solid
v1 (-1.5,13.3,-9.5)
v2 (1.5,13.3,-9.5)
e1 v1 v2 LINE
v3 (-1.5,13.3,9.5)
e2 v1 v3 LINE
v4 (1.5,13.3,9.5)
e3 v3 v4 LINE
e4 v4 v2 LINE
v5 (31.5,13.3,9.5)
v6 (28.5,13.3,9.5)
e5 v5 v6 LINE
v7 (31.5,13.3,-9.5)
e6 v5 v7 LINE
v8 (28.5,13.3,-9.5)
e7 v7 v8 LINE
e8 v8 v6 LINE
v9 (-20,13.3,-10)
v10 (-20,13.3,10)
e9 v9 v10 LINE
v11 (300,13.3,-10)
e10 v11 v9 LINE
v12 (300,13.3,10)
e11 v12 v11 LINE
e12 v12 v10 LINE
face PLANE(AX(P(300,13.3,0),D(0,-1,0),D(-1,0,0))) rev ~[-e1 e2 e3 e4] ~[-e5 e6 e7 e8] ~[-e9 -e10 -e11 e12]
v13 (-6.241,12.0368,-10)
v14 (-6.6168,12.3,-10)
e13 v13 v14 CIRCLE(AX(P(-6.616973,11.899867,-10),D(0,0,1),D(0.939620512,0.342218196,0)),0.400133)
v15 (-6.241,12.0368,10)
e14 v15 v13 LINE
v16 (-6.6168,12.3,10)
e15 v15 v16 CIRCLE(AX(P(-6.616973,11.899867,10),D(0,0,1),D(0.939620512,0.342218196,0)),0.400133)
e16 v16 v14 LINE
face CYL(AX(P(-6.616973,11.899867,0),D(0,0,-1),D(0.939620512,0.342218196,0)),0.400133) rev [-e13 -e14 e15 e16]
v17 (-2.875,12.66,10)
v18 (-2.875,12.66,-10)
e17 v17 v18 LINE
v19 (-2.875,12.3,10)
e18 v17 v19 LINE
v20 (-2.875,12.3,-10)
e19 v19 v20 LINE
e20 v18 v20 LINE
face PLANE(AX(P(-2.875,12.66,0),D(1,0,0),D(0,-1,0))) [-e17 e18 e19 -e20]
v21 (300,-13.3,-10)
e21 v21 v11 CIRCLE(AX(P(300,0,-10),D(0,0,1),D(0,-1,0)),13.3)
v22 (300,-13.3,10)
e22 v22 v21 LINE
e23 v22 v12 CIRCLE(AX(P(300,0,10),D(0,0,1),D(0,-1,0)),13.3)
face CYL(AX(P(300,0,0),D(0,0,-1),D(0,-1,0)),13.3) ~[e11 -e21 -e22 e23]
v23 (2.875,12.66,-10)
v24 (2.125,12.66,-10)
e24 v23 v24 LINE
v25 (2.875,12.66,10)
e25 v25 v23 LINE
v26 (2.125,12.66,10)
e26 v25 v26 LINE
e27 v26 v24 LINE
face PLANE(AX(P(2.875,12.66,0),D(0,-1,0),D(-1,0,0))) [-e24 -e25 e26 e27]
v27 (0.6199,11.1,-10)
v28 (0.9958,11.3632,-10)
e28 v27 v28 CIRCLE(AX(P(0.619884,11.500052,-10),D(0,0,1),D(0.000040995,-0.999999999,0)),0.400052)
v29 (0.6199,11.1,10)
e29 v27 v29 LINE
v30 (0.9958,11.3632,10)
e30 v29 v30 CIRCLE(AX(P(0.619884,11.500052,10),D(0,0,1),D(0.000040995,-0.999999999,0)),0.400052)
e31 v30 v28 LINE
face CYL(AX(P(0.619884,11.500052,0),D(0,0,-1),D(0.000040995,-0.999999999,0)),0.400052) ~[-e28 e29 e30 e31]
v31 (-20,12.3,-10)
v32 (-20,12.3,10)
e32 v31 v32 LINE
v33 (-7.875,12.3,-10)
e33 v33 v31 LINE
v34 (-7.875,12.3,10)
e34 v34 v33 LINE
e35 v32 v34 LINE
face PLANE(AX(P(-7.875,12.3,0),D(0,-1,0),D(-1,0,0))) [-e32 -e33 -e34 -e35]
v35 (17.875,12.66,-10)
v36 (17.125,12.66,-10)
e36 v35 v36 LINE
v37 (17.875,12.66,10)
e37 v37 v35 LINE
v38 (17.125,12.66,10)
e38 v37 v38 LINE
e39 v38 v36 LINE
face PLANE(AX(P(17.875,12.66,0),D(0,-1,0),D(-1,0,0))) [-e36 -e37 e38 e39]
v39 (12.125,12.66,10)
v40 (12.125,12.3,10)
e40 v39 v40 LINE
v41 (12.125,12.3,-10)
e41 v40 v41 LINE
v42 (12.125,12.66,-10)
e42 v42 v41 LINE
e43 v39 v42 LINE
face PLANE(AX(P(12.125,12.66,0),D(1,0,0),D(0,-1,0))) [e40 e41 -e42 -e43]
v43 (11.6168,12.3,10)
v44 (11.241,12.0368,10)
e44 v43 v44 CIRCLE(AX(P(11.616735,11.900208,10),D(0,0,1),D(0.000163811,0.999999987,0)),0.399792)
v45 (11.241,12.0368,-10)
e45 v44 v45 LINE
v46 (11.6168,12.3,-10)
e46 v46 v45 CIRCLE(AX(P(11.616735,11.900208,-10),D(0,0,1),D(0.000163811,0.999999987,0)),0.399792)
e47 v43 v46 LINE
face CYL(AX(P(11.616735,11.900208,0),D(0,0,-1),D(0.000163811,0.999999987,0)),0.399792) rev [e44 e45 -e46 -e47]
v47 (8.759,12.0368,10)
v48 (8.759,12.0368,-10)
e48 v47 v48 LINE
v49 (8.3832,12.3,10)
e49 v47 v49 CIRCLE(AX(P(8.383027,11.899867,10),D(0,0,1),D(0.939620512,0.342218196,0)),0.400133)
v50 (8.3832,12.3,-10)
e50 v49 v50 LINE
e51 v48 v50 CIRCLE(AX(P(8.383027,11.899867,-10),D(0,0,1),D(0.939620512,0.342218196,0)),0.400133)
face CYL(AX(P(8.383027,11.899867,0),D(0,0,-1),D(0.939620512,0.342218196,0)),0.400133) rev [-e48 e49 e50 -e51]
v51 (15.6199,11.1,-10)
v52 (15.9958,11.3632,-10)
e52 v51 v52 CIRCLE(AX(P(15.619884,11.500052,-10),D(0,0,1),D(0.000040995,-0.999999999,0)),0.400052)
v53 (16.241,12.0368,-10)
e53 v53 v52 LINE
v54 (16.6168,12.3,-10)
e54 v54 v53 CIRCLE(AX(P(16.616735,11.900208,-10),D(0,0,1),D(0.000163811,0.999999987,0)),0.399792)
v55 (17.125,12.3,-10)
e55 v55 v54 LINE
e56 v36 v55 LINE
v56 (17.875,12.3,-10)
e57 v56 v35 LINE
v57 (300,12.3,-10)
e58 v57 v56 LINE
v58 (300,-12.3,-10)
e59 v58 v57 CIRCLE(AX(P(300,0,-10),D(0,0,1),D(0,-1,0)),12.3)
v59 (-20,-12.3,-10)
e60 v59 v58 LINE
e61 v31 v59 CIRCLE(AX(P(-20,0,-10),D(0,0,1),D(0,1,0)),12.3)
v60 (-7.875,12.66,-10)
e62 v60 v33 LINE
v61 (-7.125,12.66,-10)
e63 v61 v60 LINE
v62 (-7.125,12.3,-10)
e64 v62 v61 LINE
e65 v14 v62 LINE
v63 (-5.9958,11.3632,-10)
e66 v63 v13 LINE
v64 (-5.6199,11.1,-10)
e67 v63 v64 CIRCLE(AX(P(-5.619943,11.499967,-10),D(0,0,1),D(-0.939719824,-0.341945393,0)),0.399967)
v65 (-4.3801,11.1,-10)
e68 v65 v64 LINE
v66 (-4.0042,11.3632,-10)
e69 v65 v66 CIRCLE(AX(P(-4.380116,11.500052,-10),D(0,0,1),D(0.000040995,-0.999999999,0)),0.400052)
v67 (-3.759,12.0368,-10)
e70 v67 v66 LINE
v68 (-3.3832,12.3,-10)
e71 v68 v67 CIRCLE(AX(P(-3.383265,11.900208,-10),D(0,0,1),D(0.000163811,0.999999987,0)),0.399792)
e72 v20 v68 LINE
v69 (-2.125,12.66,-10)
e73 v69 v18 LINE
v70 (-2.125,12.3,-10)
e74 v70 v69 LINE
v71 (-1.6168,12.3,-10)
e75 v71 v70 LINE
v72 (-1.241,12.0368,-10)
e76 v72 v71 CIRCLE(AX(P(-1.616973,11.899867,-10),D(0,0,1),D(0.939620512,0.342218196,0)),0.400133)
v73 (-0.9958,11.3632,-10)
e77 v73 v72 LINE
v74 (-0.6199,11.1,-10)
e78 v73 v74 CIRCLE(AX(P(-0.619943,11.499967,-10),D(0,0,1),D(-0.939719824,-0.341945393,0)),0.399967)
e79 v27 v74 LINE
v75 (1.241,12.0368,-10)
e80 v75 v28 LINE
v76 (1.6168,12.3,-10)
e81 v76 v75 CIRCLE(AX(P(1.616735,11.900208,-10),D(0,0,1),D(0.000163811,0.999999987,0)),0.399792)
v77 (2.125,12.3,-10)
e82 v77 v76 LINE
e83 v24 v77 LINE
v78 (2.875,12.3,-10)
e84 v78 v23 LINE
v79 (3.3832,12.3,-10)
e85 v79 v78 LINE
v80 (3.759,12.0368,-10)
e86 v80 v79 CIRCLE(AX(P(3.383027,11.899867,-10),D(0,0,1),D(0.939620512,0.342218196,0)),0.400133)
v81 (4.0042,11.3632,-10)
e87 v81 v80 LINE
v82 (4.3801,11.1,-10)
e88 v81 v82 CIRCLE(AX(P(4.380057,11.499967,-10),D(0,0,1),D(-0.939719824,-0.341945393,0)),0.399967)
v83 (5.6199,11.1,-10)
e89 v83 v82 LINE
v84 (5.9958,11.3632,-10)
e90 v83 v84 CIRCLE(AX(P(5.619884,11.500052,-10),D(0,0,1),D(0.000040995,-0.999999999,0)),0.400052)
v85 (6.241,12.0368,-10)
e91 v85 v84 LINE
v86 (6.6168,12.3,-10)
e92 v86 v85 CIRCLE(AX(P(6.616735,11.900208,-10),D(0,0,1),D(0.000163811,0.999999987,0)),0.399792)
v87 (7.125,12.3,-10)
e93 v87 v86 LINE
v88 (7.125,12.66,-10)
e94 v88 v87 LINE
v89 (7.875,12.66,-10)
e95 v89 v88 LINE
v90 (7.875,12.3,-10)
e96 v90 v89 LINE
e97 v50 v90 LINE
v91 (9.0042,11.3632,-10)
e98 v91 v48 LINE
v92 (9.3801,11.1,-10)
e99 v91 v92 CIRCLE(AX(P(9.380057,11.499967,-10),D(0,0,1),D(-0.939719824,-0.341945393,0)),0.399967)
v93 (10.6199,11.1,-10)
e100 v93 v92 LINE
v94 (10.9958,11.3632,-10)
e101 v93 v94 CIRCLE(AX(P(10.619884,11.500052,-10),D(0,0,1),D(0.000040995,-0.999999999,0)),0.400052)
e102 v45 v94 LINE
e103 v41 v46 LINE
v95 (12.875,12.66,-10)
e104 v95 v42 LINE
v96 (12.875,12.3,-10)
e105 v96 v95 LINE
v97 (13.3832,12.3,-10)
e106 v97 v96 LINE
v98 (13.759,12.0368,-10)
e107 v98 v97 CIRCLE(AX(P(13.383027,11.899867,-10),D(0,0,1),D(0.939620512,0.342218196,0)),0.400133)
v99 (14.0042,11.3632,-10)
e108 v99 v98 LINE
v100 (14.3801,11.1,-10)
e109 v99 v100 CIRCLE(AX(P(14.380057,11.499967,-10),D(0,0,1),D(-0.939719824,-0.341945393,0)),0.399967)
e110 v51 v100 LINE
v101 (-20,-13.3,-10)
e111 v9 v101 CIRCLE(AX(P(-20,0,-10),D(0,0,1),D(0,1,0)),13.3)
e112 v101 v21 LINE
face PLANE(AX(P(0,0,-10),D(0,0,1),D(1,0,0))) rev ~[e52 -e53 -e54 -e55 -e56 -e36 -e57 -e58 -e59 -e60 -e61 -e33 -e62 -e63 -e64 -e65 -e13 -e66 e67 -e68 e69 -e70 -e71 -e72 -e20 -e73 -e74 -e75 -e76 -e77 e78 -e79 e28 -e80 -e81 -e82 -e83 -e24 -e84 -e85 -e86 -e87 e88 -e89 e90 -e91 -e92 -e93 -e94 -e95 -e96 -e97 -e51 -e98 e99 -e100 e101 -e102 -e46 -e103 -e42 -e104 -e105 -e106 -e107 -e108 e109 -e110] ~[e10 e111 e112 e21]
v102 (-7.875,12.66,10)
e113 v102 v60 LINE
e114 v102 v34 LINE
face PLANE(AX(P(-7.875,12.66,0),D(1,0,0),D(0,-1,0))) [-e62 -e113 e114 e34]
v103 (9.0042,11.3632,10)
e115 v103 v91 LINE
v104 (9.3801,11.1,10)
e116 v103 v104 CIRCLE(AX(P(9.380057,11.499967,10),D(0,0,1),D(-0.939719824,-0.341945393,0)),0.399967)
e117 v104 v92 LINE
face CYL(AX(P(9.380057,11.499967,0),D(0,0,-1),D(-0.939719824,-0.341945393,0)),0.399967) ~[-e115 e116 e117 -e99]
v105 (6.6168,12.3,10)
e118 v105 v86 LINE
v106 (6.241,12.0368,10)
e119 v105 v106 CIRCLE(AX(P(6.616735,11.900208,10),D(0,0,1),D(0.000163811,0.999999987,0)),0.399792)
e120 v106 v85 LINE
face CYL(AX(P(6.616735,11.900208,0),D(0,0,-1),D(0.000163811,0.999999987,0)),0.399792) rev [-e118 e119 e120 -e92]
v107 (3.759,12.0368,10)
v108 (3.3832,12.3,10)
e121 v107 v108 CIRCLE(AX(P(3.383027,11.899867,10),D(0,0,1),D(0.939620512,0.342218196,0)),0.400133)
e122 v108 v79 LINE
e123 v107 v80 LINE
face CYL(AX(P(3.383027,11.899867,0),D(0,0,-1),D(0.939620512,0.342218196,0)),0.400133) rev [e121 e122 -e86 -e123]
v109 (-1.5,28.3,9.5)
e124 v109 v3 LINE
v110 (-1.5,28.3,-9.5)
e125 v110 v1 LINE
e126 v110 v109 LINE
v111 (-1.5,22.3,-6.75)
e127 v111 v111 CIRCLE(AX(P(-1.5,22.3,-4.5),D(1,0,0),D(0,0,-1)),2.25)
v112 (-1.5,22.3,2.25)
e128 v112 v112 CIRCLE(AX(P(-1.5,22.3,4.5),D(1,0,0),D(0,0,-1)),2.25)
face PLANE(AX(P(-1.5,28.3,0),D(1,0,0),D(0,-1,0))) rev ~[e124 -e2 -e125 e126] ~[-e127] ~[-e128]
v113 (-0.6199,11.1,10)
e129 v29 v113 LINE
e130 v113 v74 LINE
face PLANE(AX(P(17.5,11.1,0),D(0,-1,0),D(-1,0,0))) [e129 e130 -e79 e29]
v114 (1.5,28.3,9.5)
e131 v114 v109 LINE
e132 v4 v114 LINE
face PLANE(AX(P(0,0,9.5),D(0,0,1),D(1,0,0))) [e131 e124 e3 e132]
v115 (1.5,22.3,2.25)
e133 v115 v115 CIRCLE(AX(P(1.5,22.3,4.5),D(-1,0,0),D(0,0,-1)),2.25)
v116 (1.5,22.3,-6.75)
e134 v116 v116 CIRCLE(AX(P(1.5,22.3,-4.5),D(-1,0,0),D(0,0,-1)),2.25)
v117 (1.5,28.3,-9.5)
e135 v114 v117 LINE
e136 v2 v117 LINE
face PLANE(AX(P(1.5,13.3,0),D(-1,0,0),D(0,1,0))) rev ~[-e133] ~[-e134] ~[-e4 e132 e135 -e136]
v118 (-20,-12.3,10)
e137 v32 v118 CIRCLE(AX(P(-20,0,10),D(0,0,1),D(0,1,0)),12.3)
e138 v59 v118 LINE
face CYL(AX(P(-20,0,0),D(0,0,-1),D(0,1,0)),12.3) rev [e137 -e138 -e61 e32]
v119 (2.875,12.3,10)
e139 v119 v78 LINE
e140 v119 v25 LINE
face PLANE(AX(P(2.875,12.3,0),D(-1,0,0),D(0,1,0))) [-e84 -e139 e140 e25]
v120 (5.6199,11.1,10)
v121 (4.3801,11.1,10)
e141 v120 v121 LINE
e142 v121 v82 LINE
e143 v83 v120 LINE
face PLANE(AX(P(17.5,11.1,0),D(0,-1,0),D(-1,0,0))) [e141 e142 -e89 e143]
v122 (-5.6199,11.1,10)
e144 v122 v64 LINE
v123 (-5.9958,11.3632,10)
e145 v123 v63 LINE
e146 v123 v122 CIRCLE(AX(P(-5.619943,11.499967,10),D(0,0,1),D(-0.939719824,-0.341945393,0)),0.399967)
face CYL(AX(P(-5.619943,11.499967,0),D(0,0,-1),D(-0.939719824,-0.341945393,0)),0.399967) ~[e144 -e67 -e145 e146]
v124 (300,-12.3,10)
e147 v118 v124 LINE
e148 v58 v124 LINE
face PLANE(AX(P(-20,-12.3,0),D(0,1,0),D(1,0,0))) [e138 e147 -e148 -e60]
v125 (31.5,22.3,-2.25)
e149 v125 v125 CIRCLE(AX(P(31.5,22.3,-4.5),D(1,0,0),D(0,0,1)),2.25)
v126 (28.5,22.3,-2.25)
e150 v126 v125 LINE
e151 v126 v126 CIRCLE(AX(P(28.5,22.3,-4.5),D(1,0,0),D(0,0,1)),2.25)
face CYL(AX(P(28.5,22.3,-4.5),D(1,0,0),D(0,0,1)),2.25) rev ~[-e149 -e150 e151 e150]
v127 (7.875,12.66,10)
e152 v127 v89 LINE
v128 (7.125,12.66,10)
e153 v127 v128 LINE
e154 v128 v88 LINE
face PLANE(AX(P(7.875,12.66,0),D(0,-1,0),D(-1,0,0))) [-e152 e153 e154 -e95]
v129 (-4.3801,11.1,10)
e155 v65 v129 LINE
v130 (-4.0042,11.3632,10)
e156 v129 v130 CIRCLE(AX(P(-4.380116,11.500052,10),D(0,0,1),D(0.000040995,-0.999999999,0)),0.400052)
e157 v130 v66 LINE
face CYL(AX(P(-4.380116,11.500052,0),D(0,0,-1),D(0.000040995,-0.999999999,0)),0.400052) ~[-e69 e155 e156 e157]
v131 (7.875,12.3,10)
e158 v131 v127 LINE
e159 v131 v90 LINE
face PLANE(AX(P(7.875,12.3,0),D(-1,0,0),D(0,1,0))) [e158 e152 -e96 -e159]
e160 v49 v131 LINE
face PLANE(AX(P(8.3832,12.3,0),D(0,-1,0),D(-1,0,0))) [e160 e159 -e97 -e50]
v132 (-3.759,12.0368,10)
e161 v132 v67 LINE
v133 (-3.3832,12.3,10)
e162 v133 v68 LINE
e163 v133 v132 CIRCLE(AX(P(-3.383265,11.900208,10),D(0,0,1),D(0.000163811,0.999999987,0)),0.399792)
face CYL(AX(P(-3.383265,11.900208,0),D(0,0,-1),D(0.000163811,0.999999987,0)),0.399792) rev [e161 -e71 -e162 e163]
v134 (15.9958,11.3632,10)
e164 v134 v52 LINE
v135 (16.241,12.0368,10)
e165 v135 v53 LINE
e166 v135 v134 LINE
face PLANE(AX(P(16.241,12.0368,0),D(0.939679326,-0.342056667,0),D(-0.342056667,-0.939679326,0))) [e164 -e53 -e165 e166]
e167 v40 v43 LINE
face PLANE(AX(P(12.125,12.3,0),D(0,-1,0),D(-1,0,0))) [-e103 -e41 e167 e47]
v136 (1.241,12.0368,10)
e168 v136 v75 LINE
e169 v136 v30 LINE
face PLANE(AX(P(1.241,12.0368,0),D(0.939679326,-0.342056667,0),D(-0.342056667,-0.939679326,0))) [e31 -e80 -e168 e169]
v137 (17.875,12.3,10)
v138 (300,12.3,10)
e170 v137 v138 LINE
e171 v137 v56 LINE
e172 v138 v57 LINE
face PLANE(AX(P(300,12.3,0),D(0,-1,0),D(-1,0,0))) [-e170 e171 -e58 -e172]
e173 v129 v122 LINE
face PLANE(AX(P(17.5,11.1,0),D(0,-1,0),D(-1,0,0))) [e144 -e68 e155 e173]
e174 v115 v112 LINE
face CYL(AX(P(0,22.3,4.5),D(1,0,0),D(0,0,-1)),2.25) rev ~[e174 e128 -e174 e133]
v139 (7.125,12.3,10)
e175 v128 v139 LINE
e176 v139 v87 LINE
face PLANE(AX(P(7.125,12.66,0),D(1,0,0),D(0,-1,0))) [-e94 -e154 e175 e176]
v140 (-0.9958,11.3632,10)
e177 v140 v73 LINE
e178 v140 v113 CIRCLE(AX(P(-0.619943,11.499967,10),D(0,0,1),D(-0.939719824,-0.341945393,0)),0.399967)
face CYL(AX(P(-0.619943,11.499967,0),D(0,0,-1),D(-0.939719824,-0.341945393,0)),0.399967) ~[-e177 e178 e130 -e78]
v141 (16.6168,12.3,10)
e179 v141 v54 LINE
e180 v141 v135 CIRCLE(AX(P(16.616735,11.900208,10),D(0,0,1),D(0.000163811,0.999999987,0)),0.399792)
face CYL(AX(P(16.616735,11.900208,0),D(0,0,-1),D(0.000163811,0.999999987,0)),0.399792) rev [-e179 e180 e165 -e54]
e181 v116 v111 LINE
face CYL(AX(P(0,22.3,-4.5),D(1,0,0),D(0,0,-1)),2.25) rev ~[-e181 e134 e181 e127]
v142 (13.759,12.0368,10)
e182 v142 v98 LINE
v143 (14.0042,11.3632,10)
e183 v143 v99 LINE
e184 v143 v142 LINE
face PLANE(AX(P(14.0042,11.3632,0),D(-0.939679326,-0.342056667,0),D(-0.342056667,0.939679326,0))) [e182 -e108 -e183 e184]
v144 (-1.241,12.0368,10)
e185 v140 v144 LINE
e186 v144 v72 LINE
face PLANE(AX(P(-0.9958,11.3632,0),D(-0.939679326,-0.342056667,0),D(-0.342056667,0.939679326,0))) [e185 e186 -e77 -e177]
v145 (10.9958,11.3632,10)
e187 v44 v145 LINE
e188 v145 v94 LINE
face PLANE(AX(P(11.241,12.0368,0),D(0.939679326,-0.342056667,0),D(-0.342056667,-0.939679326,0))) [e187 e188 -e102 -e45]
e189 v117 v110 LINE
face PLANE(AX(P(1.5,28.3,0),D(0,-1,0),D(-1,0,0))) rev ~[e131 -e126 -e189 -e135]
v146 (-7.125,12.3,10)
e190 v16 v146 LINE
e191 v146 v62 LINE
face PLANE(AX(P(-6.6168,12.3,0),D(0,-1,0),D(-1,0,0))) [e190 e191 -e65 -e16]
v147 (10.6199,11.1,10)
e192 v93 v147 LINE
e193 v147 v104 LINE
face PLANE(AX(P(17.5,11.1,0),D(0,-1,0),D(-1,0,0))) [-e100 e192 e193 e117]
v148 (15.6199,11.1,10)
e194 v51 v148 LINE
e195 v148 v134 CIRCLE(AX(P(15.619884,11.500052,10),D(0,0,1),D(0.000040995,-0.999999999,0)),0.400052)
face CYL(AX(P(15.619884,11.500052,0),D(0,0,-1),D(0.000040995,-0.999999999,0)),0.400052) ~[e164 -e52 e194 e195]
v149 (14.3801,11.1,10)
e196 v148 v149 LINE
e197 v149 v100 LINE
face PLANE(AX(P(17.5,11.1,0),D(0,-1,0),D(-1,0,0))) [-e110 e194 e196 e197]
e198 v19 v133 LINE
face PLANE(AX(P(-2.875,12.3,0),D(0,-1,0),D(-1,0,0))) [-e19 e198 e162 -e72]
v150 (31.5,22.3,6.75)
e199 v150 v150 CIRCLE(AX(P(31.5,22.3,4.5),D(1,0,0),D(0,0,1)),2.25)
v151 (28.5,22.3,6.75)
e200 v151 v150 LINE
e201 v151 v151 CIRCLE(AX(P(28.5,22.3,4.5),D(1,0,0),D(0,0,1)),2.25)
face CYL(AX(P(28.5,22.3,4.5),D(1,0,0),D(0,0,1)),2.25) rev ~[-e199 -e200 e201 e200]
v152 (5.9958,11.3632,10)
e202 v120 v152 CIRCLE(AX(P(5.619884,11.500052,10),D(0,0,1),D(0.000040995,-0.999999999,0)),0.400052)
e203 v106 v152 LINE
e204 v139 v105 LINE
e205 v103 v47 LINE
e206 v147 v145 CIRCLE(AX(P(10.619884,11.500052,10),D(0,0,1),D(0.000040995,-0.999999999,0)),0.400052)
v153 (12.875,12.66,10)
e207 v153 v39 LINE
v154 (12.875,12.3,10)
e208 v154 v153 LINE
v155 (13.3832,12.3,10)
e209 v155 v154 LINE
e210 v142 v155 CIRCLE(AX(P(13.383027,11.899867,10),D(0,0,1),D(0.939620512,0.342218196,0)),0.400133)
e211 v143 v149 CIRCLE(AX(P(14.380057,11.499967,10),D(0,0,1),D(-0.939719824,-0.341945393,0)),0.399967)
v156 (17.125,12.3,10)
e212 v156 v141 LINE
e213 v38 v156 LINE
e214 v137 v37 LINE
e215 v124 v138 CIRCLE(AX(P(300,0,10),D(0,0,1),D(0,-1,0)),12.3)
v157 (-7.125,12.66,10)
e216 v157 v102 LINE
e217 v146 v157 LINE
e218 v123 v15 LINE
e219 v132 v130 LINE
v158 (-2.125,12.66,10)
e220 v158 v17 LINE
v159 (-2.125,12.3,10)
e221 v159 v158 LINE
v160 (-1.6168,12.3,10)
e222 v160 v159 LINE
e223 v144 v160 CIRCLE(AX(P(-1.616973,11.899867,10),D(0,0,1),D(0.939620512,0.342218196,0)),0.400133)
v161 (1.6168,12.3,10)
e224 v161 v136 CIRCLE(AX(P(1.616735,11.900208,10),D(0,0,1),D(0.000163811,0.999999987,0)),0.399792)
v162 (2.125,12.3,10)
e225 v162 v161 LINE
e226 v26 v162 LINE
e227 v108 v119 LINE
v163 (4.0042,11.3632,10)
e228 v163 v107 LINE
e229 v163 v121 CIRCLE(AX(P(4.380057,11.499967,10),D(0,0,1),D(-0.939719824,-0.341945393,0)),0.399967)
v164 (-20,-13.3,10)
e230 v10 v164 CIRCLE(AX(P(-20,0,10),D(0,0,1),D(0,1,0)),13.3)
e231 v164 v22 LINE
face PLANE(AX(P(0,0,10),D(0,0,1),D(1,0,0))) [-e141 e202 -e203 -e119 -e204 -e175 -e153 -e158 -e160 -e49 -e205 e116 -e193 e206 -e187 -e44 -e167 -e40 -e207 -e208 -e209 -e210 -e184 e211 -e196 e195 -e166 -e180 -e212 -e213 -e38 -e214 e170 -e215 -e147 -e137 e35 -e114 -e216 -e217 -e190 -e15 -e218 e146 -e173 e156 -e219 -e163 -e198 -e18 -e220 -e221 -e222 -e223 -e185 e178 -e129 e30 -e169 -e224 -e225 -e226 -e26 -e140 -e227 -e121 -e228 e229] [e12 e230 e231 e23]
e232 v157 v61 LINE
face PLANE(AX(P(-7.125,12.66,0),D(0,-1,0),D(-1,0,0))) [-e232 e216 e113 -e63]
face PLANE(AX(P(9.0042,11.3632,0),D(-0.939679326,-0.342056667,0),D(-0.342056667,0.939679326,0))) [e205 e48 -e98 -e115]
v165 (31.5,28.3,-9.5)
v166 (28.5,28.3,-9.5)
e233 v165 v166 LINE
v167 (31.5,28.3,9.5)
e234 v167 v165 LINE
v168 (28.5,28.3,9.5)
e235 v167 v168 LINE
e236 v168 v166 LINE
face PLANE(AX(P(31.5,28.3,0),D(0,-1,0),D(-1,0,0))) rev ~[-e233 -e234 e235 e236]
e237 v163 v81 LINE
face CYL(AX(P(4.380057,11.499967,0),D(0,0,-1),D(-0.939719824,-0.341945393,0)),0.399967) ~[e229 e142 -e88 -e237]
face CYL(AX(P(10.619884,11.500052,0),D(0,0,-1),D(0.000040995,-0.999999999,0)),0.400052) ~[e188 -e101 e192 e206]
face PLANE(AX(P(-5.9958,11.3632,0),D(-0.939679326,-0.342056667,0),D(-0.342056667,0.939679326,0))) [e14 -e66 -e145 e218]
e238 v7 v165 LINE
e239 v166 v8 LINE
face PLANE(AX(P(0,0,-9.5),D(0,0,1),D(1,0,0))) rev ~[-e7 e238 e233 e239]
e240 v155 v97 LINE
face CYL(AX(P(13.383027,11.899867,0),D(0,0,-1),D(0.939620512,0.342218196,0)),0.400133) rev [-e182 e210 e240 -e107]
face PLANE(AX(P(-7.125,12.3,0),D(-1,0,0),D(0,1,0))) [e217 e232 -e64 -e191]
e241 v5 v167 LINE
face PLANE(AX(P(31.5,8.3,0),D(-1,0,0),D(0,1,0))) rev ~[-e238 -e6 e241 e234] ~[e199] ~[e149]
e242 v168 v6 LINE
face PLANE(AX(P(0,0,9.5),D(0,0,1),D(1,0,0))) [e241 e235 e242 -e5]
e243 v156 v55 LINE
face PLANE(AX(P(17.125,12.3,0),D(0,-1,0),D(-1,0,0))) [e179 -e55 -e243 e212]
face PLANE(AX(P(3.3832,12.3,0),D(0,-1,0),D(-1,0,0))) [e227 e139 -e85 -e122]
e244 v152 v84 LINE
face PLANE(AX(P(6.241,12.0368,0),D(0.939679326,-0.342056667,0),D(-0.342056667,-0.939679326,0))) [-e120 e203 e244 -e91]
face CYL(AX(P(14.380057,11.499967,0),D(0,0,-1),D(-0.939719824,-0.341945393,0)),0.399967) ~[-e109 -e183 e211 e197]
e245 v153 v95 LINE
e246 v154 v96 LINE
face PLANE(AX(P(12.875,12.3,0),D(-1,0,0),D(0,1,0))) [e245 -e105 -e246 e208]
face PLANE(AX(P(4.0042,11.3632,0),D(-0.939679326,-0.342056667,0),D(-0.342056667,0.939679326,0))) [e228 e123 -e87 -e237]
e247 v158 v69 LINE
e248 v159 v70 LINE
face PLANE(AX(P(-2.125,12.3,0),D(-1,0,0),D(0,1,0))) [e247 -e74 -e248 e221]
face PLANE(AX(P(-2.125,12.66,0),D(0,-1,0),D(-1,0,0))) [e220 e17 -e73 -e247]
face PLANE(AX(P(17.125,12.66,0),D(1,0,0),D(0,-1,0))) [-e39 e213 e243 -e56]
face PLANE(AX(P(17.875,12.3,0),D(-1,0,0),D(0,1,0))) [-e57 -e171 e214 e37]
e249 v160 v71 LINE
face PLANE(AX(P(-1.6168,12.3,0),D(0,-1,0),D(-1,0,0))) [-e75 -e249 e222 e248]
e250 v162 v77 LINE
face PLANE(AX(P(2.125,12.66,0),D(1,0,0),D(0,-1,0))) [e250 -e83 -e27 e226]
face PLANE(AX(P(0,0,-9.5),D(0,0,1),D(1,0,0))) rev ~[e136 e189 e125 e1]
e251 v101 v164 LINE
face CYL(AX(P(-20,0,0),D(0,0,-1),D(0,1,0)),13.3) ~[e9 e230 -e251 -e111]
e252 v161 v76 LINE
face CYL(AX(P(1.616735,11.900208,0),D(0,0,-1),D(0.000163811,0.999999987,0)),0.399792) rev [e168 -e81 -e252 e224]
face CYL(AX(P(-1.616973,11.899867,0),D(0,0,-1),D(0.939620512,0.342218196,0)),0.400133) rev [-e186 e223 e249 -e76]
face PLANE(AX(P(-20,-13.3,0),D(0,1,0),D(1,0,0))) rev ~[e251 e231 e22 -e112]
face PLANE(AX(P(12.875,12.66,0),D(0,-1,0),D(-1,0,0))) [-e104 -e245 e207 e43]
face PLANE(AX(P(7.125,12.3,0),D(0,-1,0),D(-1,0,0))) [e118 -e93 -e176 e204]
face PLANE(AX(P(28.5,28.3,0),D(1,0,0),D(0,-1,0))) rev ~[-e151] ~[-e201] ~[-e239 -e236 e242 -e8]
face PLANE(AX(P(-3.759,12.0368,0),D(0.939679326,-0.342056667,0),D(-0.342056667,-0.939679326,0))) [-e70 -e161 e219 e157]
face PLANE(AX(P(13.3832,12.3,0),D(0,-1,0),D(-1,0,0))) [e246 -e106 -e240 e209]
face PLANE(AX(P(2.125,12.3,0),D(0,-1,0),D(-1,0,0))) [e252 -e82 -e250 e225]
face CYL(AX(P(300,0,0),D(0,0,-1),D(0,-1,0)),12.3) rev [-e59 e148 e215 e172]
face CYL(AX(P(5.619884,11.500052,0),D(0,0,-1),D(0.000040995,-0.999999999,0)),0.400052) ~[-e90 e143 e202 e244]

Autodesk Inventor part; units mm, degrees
ref_plane "XZ Plane" through (0, 0, 0) normal (0, 1, 0) x (-1, 0, 0)
sketch "Sketch_2" plane through (0, 0, 0) normal (0, 0, 1) x (1, 0, 0)
  arc A0 (-20, 13.3) -> (-20, -13.3) centre (-20, 0) ccw
  line L0 (-20, -13.3) -> (300, -13.3)
  arc A1 (300, -13.3) -> (300, 13.3) centre (300, 0) ccw
  line L1 (300, 13.3) -> (-20, 13.3)
extrude "Extrusion1" add sketch "Sketch_2" along normal mid plane 20
sketch "Sketch_8" plane through (0, 0, 0) normal (0, 0, 1) x (1, 0, 0)
  line L0 (-1.5, 28.3) -> (-1.5, 13.3)
  line L1 (-1.5, 13.3) -> (1.5, 13.3)
  line L2 (1.5, 13.3) -> (1.5, 28.3)
  line L3 (1.5, 28.3) -> (-1.5, 28.3)
extrude "Extrusion2" add sketch "Sketch_8" along normal mid plane 19
sketch "_____4" plane through (0, 0, 0) normal (1, 0, 0) x (0, 0, -1)
  circle A0 centre (-4.5, 22.3) radius 2.25
extrude "Extrusion3" cut sketch "_____4" along normal mid plane 6
sketch "_____5" plane through (0, 0, 0) normal (1, 0, 0) x (0, 0, -1)
  circle A0 centre (4.5, 22.3) radius 2.25
extrude "Extrusion4" cut sketch "_____5" along normal mid plane 6
sketch "_____2" plane through (0, 0, 0) normal (0, 0, 1) x (1, 0, 0)
  line L0 (28.5, 8.3) -> (31.5, 8.3)
  line L1 (31.5, 8.3) -> (31.5, 28.3)
  line L2 (31.5, 28.3) -> (28.5, 28.3)
  line L3 (28.5, 28.3) -> (28.5, 8.3)
extrude "Extrusion5" add sketch "_____2" along normal mid plane 19
sketch "Sketch6" plane through (28.5, 13.3, 9.5) normal (-1, 0, 0) x (0, 0, 1)
  point P0 (-14, 9)
hole "Hole1" at (28.5, 22.3, -4.5) direction (1, 0, 0) diameter 4.5 depth 3
sketch "Sketch7" plane through (28.5, 13.3, 9.5) normal (-1, 0, 0) x (0, 0, 1)
  point P0 (-5, 9)
hole "Hole2" at (28.5, 22.3, 4.5) direction (1, 0, 0) diameter 4.5 depth 3
sketch "Sketch_4" plane through (0, 0, 0) normal (0, 0, 1) x (1, 0, 0)
  arc A0 (-20, 12.3) -> (-20, -12.3) centre (-20, 0) ccw
  line L0 (-20, -12.3) -> (300, -12.3)
  arc A1 (300, -12.3) -> (300, 12.3) centre (300, 0) ccw
  line L1 (300, 12.3) -> (17.5, 12.3)
  line L2 (17.5, 12.3) -> (17.5, 11.1)
  line L3 (17.5, 11.1) -> (-7.5, 11.1)
  line L4 (-7.5, 11.1) -> (-7.5, 12.3)
  line L5 (-7.5, 12.3) -> (-20, 12.3)
extrude "Extrusion6" cut sketch "Sketch_4" along normal mid plane 20
sketch "Sketch_64" plane through (0, 0, 0) normal (0, 0, 1) x (1, 0, 0)
  line L0 (-9.3801, 11.1) -> (-9.3801, 10.1)
  line L1 (-9.3801, 10.1) -> (-5.6199, 10.1)
  line L2 (-5.6199, 10.1) -> (-5.6199, 11.1)
  arc A0 (-5.9958, 11.3632) -> (-5.6199, 11.1) centre (-5.6199, 11.5) ccw
  line L3 (-5.9958, 11.3632) -> (-6.241, 12.0368)
  arc A1 (-6.241, 12.0368) -> (-6.6168, 12.3) centre (-6.6168, 11.9) ccw
  line L4 (-6.6168, 12.3) -> (-7.125, 12.3)
  line L5 (-7.125, 12.3) -> (-7.125, 12.66)
  line L6 (-7.125, 12.66) -> (-7.875, 12.66)
  line L7 (-7.875, 12.66) -> (-7.875, 12.3)
  line L8 (-7.875, 12.3) -> (-8.3832, 12.3)
  arc A2 (-8.3832, 12.3) -> (-8.759, 12.0368) centre (-8.3832, 11.9) ccw
  line L9 (-8.759, 12.0368) -> (-9.0042, 11.3632)
  arc A3 (-9.3801, 11.1) -> (-9.0042, 11.3632) centre (-9.3801, 11.5) ccw
extrude "Extrusion7" cut sketch "Sketch_64" along normal mid plane 20
pattern_linear "Rectangular Pattern1" count 6 spacing 5 along (1, 0, 0) of "Extrusion7"
ref_plane "作業平面3" through (140, 0, 0) normal (1, 0, 0) x (0, 1, 0)
ref_plane "作業平面1" through (313.3, 0, 0) normal (1, 0, 0) x (0, 1, 0)
ref_plane "作業平面2" through (-33.3, 0, 0) normal (1, 0, 0) x (0, 1, 0)
ref_plane "作業平面6" through (140, 0, 0) normal (1, 0, 0) x (0, 1, 0)
ref_plane "作業平面4" through (313.3, 0, 0) normal (1, 0, 0) x (0, 1, 0)
ref_plane "作業平面5" through (-33.3, 0, 0) normal (1, 0, 0) x (0, 1, 0)
properties part number "ATBT-720T5200-B-P30_info-1-16-16"
